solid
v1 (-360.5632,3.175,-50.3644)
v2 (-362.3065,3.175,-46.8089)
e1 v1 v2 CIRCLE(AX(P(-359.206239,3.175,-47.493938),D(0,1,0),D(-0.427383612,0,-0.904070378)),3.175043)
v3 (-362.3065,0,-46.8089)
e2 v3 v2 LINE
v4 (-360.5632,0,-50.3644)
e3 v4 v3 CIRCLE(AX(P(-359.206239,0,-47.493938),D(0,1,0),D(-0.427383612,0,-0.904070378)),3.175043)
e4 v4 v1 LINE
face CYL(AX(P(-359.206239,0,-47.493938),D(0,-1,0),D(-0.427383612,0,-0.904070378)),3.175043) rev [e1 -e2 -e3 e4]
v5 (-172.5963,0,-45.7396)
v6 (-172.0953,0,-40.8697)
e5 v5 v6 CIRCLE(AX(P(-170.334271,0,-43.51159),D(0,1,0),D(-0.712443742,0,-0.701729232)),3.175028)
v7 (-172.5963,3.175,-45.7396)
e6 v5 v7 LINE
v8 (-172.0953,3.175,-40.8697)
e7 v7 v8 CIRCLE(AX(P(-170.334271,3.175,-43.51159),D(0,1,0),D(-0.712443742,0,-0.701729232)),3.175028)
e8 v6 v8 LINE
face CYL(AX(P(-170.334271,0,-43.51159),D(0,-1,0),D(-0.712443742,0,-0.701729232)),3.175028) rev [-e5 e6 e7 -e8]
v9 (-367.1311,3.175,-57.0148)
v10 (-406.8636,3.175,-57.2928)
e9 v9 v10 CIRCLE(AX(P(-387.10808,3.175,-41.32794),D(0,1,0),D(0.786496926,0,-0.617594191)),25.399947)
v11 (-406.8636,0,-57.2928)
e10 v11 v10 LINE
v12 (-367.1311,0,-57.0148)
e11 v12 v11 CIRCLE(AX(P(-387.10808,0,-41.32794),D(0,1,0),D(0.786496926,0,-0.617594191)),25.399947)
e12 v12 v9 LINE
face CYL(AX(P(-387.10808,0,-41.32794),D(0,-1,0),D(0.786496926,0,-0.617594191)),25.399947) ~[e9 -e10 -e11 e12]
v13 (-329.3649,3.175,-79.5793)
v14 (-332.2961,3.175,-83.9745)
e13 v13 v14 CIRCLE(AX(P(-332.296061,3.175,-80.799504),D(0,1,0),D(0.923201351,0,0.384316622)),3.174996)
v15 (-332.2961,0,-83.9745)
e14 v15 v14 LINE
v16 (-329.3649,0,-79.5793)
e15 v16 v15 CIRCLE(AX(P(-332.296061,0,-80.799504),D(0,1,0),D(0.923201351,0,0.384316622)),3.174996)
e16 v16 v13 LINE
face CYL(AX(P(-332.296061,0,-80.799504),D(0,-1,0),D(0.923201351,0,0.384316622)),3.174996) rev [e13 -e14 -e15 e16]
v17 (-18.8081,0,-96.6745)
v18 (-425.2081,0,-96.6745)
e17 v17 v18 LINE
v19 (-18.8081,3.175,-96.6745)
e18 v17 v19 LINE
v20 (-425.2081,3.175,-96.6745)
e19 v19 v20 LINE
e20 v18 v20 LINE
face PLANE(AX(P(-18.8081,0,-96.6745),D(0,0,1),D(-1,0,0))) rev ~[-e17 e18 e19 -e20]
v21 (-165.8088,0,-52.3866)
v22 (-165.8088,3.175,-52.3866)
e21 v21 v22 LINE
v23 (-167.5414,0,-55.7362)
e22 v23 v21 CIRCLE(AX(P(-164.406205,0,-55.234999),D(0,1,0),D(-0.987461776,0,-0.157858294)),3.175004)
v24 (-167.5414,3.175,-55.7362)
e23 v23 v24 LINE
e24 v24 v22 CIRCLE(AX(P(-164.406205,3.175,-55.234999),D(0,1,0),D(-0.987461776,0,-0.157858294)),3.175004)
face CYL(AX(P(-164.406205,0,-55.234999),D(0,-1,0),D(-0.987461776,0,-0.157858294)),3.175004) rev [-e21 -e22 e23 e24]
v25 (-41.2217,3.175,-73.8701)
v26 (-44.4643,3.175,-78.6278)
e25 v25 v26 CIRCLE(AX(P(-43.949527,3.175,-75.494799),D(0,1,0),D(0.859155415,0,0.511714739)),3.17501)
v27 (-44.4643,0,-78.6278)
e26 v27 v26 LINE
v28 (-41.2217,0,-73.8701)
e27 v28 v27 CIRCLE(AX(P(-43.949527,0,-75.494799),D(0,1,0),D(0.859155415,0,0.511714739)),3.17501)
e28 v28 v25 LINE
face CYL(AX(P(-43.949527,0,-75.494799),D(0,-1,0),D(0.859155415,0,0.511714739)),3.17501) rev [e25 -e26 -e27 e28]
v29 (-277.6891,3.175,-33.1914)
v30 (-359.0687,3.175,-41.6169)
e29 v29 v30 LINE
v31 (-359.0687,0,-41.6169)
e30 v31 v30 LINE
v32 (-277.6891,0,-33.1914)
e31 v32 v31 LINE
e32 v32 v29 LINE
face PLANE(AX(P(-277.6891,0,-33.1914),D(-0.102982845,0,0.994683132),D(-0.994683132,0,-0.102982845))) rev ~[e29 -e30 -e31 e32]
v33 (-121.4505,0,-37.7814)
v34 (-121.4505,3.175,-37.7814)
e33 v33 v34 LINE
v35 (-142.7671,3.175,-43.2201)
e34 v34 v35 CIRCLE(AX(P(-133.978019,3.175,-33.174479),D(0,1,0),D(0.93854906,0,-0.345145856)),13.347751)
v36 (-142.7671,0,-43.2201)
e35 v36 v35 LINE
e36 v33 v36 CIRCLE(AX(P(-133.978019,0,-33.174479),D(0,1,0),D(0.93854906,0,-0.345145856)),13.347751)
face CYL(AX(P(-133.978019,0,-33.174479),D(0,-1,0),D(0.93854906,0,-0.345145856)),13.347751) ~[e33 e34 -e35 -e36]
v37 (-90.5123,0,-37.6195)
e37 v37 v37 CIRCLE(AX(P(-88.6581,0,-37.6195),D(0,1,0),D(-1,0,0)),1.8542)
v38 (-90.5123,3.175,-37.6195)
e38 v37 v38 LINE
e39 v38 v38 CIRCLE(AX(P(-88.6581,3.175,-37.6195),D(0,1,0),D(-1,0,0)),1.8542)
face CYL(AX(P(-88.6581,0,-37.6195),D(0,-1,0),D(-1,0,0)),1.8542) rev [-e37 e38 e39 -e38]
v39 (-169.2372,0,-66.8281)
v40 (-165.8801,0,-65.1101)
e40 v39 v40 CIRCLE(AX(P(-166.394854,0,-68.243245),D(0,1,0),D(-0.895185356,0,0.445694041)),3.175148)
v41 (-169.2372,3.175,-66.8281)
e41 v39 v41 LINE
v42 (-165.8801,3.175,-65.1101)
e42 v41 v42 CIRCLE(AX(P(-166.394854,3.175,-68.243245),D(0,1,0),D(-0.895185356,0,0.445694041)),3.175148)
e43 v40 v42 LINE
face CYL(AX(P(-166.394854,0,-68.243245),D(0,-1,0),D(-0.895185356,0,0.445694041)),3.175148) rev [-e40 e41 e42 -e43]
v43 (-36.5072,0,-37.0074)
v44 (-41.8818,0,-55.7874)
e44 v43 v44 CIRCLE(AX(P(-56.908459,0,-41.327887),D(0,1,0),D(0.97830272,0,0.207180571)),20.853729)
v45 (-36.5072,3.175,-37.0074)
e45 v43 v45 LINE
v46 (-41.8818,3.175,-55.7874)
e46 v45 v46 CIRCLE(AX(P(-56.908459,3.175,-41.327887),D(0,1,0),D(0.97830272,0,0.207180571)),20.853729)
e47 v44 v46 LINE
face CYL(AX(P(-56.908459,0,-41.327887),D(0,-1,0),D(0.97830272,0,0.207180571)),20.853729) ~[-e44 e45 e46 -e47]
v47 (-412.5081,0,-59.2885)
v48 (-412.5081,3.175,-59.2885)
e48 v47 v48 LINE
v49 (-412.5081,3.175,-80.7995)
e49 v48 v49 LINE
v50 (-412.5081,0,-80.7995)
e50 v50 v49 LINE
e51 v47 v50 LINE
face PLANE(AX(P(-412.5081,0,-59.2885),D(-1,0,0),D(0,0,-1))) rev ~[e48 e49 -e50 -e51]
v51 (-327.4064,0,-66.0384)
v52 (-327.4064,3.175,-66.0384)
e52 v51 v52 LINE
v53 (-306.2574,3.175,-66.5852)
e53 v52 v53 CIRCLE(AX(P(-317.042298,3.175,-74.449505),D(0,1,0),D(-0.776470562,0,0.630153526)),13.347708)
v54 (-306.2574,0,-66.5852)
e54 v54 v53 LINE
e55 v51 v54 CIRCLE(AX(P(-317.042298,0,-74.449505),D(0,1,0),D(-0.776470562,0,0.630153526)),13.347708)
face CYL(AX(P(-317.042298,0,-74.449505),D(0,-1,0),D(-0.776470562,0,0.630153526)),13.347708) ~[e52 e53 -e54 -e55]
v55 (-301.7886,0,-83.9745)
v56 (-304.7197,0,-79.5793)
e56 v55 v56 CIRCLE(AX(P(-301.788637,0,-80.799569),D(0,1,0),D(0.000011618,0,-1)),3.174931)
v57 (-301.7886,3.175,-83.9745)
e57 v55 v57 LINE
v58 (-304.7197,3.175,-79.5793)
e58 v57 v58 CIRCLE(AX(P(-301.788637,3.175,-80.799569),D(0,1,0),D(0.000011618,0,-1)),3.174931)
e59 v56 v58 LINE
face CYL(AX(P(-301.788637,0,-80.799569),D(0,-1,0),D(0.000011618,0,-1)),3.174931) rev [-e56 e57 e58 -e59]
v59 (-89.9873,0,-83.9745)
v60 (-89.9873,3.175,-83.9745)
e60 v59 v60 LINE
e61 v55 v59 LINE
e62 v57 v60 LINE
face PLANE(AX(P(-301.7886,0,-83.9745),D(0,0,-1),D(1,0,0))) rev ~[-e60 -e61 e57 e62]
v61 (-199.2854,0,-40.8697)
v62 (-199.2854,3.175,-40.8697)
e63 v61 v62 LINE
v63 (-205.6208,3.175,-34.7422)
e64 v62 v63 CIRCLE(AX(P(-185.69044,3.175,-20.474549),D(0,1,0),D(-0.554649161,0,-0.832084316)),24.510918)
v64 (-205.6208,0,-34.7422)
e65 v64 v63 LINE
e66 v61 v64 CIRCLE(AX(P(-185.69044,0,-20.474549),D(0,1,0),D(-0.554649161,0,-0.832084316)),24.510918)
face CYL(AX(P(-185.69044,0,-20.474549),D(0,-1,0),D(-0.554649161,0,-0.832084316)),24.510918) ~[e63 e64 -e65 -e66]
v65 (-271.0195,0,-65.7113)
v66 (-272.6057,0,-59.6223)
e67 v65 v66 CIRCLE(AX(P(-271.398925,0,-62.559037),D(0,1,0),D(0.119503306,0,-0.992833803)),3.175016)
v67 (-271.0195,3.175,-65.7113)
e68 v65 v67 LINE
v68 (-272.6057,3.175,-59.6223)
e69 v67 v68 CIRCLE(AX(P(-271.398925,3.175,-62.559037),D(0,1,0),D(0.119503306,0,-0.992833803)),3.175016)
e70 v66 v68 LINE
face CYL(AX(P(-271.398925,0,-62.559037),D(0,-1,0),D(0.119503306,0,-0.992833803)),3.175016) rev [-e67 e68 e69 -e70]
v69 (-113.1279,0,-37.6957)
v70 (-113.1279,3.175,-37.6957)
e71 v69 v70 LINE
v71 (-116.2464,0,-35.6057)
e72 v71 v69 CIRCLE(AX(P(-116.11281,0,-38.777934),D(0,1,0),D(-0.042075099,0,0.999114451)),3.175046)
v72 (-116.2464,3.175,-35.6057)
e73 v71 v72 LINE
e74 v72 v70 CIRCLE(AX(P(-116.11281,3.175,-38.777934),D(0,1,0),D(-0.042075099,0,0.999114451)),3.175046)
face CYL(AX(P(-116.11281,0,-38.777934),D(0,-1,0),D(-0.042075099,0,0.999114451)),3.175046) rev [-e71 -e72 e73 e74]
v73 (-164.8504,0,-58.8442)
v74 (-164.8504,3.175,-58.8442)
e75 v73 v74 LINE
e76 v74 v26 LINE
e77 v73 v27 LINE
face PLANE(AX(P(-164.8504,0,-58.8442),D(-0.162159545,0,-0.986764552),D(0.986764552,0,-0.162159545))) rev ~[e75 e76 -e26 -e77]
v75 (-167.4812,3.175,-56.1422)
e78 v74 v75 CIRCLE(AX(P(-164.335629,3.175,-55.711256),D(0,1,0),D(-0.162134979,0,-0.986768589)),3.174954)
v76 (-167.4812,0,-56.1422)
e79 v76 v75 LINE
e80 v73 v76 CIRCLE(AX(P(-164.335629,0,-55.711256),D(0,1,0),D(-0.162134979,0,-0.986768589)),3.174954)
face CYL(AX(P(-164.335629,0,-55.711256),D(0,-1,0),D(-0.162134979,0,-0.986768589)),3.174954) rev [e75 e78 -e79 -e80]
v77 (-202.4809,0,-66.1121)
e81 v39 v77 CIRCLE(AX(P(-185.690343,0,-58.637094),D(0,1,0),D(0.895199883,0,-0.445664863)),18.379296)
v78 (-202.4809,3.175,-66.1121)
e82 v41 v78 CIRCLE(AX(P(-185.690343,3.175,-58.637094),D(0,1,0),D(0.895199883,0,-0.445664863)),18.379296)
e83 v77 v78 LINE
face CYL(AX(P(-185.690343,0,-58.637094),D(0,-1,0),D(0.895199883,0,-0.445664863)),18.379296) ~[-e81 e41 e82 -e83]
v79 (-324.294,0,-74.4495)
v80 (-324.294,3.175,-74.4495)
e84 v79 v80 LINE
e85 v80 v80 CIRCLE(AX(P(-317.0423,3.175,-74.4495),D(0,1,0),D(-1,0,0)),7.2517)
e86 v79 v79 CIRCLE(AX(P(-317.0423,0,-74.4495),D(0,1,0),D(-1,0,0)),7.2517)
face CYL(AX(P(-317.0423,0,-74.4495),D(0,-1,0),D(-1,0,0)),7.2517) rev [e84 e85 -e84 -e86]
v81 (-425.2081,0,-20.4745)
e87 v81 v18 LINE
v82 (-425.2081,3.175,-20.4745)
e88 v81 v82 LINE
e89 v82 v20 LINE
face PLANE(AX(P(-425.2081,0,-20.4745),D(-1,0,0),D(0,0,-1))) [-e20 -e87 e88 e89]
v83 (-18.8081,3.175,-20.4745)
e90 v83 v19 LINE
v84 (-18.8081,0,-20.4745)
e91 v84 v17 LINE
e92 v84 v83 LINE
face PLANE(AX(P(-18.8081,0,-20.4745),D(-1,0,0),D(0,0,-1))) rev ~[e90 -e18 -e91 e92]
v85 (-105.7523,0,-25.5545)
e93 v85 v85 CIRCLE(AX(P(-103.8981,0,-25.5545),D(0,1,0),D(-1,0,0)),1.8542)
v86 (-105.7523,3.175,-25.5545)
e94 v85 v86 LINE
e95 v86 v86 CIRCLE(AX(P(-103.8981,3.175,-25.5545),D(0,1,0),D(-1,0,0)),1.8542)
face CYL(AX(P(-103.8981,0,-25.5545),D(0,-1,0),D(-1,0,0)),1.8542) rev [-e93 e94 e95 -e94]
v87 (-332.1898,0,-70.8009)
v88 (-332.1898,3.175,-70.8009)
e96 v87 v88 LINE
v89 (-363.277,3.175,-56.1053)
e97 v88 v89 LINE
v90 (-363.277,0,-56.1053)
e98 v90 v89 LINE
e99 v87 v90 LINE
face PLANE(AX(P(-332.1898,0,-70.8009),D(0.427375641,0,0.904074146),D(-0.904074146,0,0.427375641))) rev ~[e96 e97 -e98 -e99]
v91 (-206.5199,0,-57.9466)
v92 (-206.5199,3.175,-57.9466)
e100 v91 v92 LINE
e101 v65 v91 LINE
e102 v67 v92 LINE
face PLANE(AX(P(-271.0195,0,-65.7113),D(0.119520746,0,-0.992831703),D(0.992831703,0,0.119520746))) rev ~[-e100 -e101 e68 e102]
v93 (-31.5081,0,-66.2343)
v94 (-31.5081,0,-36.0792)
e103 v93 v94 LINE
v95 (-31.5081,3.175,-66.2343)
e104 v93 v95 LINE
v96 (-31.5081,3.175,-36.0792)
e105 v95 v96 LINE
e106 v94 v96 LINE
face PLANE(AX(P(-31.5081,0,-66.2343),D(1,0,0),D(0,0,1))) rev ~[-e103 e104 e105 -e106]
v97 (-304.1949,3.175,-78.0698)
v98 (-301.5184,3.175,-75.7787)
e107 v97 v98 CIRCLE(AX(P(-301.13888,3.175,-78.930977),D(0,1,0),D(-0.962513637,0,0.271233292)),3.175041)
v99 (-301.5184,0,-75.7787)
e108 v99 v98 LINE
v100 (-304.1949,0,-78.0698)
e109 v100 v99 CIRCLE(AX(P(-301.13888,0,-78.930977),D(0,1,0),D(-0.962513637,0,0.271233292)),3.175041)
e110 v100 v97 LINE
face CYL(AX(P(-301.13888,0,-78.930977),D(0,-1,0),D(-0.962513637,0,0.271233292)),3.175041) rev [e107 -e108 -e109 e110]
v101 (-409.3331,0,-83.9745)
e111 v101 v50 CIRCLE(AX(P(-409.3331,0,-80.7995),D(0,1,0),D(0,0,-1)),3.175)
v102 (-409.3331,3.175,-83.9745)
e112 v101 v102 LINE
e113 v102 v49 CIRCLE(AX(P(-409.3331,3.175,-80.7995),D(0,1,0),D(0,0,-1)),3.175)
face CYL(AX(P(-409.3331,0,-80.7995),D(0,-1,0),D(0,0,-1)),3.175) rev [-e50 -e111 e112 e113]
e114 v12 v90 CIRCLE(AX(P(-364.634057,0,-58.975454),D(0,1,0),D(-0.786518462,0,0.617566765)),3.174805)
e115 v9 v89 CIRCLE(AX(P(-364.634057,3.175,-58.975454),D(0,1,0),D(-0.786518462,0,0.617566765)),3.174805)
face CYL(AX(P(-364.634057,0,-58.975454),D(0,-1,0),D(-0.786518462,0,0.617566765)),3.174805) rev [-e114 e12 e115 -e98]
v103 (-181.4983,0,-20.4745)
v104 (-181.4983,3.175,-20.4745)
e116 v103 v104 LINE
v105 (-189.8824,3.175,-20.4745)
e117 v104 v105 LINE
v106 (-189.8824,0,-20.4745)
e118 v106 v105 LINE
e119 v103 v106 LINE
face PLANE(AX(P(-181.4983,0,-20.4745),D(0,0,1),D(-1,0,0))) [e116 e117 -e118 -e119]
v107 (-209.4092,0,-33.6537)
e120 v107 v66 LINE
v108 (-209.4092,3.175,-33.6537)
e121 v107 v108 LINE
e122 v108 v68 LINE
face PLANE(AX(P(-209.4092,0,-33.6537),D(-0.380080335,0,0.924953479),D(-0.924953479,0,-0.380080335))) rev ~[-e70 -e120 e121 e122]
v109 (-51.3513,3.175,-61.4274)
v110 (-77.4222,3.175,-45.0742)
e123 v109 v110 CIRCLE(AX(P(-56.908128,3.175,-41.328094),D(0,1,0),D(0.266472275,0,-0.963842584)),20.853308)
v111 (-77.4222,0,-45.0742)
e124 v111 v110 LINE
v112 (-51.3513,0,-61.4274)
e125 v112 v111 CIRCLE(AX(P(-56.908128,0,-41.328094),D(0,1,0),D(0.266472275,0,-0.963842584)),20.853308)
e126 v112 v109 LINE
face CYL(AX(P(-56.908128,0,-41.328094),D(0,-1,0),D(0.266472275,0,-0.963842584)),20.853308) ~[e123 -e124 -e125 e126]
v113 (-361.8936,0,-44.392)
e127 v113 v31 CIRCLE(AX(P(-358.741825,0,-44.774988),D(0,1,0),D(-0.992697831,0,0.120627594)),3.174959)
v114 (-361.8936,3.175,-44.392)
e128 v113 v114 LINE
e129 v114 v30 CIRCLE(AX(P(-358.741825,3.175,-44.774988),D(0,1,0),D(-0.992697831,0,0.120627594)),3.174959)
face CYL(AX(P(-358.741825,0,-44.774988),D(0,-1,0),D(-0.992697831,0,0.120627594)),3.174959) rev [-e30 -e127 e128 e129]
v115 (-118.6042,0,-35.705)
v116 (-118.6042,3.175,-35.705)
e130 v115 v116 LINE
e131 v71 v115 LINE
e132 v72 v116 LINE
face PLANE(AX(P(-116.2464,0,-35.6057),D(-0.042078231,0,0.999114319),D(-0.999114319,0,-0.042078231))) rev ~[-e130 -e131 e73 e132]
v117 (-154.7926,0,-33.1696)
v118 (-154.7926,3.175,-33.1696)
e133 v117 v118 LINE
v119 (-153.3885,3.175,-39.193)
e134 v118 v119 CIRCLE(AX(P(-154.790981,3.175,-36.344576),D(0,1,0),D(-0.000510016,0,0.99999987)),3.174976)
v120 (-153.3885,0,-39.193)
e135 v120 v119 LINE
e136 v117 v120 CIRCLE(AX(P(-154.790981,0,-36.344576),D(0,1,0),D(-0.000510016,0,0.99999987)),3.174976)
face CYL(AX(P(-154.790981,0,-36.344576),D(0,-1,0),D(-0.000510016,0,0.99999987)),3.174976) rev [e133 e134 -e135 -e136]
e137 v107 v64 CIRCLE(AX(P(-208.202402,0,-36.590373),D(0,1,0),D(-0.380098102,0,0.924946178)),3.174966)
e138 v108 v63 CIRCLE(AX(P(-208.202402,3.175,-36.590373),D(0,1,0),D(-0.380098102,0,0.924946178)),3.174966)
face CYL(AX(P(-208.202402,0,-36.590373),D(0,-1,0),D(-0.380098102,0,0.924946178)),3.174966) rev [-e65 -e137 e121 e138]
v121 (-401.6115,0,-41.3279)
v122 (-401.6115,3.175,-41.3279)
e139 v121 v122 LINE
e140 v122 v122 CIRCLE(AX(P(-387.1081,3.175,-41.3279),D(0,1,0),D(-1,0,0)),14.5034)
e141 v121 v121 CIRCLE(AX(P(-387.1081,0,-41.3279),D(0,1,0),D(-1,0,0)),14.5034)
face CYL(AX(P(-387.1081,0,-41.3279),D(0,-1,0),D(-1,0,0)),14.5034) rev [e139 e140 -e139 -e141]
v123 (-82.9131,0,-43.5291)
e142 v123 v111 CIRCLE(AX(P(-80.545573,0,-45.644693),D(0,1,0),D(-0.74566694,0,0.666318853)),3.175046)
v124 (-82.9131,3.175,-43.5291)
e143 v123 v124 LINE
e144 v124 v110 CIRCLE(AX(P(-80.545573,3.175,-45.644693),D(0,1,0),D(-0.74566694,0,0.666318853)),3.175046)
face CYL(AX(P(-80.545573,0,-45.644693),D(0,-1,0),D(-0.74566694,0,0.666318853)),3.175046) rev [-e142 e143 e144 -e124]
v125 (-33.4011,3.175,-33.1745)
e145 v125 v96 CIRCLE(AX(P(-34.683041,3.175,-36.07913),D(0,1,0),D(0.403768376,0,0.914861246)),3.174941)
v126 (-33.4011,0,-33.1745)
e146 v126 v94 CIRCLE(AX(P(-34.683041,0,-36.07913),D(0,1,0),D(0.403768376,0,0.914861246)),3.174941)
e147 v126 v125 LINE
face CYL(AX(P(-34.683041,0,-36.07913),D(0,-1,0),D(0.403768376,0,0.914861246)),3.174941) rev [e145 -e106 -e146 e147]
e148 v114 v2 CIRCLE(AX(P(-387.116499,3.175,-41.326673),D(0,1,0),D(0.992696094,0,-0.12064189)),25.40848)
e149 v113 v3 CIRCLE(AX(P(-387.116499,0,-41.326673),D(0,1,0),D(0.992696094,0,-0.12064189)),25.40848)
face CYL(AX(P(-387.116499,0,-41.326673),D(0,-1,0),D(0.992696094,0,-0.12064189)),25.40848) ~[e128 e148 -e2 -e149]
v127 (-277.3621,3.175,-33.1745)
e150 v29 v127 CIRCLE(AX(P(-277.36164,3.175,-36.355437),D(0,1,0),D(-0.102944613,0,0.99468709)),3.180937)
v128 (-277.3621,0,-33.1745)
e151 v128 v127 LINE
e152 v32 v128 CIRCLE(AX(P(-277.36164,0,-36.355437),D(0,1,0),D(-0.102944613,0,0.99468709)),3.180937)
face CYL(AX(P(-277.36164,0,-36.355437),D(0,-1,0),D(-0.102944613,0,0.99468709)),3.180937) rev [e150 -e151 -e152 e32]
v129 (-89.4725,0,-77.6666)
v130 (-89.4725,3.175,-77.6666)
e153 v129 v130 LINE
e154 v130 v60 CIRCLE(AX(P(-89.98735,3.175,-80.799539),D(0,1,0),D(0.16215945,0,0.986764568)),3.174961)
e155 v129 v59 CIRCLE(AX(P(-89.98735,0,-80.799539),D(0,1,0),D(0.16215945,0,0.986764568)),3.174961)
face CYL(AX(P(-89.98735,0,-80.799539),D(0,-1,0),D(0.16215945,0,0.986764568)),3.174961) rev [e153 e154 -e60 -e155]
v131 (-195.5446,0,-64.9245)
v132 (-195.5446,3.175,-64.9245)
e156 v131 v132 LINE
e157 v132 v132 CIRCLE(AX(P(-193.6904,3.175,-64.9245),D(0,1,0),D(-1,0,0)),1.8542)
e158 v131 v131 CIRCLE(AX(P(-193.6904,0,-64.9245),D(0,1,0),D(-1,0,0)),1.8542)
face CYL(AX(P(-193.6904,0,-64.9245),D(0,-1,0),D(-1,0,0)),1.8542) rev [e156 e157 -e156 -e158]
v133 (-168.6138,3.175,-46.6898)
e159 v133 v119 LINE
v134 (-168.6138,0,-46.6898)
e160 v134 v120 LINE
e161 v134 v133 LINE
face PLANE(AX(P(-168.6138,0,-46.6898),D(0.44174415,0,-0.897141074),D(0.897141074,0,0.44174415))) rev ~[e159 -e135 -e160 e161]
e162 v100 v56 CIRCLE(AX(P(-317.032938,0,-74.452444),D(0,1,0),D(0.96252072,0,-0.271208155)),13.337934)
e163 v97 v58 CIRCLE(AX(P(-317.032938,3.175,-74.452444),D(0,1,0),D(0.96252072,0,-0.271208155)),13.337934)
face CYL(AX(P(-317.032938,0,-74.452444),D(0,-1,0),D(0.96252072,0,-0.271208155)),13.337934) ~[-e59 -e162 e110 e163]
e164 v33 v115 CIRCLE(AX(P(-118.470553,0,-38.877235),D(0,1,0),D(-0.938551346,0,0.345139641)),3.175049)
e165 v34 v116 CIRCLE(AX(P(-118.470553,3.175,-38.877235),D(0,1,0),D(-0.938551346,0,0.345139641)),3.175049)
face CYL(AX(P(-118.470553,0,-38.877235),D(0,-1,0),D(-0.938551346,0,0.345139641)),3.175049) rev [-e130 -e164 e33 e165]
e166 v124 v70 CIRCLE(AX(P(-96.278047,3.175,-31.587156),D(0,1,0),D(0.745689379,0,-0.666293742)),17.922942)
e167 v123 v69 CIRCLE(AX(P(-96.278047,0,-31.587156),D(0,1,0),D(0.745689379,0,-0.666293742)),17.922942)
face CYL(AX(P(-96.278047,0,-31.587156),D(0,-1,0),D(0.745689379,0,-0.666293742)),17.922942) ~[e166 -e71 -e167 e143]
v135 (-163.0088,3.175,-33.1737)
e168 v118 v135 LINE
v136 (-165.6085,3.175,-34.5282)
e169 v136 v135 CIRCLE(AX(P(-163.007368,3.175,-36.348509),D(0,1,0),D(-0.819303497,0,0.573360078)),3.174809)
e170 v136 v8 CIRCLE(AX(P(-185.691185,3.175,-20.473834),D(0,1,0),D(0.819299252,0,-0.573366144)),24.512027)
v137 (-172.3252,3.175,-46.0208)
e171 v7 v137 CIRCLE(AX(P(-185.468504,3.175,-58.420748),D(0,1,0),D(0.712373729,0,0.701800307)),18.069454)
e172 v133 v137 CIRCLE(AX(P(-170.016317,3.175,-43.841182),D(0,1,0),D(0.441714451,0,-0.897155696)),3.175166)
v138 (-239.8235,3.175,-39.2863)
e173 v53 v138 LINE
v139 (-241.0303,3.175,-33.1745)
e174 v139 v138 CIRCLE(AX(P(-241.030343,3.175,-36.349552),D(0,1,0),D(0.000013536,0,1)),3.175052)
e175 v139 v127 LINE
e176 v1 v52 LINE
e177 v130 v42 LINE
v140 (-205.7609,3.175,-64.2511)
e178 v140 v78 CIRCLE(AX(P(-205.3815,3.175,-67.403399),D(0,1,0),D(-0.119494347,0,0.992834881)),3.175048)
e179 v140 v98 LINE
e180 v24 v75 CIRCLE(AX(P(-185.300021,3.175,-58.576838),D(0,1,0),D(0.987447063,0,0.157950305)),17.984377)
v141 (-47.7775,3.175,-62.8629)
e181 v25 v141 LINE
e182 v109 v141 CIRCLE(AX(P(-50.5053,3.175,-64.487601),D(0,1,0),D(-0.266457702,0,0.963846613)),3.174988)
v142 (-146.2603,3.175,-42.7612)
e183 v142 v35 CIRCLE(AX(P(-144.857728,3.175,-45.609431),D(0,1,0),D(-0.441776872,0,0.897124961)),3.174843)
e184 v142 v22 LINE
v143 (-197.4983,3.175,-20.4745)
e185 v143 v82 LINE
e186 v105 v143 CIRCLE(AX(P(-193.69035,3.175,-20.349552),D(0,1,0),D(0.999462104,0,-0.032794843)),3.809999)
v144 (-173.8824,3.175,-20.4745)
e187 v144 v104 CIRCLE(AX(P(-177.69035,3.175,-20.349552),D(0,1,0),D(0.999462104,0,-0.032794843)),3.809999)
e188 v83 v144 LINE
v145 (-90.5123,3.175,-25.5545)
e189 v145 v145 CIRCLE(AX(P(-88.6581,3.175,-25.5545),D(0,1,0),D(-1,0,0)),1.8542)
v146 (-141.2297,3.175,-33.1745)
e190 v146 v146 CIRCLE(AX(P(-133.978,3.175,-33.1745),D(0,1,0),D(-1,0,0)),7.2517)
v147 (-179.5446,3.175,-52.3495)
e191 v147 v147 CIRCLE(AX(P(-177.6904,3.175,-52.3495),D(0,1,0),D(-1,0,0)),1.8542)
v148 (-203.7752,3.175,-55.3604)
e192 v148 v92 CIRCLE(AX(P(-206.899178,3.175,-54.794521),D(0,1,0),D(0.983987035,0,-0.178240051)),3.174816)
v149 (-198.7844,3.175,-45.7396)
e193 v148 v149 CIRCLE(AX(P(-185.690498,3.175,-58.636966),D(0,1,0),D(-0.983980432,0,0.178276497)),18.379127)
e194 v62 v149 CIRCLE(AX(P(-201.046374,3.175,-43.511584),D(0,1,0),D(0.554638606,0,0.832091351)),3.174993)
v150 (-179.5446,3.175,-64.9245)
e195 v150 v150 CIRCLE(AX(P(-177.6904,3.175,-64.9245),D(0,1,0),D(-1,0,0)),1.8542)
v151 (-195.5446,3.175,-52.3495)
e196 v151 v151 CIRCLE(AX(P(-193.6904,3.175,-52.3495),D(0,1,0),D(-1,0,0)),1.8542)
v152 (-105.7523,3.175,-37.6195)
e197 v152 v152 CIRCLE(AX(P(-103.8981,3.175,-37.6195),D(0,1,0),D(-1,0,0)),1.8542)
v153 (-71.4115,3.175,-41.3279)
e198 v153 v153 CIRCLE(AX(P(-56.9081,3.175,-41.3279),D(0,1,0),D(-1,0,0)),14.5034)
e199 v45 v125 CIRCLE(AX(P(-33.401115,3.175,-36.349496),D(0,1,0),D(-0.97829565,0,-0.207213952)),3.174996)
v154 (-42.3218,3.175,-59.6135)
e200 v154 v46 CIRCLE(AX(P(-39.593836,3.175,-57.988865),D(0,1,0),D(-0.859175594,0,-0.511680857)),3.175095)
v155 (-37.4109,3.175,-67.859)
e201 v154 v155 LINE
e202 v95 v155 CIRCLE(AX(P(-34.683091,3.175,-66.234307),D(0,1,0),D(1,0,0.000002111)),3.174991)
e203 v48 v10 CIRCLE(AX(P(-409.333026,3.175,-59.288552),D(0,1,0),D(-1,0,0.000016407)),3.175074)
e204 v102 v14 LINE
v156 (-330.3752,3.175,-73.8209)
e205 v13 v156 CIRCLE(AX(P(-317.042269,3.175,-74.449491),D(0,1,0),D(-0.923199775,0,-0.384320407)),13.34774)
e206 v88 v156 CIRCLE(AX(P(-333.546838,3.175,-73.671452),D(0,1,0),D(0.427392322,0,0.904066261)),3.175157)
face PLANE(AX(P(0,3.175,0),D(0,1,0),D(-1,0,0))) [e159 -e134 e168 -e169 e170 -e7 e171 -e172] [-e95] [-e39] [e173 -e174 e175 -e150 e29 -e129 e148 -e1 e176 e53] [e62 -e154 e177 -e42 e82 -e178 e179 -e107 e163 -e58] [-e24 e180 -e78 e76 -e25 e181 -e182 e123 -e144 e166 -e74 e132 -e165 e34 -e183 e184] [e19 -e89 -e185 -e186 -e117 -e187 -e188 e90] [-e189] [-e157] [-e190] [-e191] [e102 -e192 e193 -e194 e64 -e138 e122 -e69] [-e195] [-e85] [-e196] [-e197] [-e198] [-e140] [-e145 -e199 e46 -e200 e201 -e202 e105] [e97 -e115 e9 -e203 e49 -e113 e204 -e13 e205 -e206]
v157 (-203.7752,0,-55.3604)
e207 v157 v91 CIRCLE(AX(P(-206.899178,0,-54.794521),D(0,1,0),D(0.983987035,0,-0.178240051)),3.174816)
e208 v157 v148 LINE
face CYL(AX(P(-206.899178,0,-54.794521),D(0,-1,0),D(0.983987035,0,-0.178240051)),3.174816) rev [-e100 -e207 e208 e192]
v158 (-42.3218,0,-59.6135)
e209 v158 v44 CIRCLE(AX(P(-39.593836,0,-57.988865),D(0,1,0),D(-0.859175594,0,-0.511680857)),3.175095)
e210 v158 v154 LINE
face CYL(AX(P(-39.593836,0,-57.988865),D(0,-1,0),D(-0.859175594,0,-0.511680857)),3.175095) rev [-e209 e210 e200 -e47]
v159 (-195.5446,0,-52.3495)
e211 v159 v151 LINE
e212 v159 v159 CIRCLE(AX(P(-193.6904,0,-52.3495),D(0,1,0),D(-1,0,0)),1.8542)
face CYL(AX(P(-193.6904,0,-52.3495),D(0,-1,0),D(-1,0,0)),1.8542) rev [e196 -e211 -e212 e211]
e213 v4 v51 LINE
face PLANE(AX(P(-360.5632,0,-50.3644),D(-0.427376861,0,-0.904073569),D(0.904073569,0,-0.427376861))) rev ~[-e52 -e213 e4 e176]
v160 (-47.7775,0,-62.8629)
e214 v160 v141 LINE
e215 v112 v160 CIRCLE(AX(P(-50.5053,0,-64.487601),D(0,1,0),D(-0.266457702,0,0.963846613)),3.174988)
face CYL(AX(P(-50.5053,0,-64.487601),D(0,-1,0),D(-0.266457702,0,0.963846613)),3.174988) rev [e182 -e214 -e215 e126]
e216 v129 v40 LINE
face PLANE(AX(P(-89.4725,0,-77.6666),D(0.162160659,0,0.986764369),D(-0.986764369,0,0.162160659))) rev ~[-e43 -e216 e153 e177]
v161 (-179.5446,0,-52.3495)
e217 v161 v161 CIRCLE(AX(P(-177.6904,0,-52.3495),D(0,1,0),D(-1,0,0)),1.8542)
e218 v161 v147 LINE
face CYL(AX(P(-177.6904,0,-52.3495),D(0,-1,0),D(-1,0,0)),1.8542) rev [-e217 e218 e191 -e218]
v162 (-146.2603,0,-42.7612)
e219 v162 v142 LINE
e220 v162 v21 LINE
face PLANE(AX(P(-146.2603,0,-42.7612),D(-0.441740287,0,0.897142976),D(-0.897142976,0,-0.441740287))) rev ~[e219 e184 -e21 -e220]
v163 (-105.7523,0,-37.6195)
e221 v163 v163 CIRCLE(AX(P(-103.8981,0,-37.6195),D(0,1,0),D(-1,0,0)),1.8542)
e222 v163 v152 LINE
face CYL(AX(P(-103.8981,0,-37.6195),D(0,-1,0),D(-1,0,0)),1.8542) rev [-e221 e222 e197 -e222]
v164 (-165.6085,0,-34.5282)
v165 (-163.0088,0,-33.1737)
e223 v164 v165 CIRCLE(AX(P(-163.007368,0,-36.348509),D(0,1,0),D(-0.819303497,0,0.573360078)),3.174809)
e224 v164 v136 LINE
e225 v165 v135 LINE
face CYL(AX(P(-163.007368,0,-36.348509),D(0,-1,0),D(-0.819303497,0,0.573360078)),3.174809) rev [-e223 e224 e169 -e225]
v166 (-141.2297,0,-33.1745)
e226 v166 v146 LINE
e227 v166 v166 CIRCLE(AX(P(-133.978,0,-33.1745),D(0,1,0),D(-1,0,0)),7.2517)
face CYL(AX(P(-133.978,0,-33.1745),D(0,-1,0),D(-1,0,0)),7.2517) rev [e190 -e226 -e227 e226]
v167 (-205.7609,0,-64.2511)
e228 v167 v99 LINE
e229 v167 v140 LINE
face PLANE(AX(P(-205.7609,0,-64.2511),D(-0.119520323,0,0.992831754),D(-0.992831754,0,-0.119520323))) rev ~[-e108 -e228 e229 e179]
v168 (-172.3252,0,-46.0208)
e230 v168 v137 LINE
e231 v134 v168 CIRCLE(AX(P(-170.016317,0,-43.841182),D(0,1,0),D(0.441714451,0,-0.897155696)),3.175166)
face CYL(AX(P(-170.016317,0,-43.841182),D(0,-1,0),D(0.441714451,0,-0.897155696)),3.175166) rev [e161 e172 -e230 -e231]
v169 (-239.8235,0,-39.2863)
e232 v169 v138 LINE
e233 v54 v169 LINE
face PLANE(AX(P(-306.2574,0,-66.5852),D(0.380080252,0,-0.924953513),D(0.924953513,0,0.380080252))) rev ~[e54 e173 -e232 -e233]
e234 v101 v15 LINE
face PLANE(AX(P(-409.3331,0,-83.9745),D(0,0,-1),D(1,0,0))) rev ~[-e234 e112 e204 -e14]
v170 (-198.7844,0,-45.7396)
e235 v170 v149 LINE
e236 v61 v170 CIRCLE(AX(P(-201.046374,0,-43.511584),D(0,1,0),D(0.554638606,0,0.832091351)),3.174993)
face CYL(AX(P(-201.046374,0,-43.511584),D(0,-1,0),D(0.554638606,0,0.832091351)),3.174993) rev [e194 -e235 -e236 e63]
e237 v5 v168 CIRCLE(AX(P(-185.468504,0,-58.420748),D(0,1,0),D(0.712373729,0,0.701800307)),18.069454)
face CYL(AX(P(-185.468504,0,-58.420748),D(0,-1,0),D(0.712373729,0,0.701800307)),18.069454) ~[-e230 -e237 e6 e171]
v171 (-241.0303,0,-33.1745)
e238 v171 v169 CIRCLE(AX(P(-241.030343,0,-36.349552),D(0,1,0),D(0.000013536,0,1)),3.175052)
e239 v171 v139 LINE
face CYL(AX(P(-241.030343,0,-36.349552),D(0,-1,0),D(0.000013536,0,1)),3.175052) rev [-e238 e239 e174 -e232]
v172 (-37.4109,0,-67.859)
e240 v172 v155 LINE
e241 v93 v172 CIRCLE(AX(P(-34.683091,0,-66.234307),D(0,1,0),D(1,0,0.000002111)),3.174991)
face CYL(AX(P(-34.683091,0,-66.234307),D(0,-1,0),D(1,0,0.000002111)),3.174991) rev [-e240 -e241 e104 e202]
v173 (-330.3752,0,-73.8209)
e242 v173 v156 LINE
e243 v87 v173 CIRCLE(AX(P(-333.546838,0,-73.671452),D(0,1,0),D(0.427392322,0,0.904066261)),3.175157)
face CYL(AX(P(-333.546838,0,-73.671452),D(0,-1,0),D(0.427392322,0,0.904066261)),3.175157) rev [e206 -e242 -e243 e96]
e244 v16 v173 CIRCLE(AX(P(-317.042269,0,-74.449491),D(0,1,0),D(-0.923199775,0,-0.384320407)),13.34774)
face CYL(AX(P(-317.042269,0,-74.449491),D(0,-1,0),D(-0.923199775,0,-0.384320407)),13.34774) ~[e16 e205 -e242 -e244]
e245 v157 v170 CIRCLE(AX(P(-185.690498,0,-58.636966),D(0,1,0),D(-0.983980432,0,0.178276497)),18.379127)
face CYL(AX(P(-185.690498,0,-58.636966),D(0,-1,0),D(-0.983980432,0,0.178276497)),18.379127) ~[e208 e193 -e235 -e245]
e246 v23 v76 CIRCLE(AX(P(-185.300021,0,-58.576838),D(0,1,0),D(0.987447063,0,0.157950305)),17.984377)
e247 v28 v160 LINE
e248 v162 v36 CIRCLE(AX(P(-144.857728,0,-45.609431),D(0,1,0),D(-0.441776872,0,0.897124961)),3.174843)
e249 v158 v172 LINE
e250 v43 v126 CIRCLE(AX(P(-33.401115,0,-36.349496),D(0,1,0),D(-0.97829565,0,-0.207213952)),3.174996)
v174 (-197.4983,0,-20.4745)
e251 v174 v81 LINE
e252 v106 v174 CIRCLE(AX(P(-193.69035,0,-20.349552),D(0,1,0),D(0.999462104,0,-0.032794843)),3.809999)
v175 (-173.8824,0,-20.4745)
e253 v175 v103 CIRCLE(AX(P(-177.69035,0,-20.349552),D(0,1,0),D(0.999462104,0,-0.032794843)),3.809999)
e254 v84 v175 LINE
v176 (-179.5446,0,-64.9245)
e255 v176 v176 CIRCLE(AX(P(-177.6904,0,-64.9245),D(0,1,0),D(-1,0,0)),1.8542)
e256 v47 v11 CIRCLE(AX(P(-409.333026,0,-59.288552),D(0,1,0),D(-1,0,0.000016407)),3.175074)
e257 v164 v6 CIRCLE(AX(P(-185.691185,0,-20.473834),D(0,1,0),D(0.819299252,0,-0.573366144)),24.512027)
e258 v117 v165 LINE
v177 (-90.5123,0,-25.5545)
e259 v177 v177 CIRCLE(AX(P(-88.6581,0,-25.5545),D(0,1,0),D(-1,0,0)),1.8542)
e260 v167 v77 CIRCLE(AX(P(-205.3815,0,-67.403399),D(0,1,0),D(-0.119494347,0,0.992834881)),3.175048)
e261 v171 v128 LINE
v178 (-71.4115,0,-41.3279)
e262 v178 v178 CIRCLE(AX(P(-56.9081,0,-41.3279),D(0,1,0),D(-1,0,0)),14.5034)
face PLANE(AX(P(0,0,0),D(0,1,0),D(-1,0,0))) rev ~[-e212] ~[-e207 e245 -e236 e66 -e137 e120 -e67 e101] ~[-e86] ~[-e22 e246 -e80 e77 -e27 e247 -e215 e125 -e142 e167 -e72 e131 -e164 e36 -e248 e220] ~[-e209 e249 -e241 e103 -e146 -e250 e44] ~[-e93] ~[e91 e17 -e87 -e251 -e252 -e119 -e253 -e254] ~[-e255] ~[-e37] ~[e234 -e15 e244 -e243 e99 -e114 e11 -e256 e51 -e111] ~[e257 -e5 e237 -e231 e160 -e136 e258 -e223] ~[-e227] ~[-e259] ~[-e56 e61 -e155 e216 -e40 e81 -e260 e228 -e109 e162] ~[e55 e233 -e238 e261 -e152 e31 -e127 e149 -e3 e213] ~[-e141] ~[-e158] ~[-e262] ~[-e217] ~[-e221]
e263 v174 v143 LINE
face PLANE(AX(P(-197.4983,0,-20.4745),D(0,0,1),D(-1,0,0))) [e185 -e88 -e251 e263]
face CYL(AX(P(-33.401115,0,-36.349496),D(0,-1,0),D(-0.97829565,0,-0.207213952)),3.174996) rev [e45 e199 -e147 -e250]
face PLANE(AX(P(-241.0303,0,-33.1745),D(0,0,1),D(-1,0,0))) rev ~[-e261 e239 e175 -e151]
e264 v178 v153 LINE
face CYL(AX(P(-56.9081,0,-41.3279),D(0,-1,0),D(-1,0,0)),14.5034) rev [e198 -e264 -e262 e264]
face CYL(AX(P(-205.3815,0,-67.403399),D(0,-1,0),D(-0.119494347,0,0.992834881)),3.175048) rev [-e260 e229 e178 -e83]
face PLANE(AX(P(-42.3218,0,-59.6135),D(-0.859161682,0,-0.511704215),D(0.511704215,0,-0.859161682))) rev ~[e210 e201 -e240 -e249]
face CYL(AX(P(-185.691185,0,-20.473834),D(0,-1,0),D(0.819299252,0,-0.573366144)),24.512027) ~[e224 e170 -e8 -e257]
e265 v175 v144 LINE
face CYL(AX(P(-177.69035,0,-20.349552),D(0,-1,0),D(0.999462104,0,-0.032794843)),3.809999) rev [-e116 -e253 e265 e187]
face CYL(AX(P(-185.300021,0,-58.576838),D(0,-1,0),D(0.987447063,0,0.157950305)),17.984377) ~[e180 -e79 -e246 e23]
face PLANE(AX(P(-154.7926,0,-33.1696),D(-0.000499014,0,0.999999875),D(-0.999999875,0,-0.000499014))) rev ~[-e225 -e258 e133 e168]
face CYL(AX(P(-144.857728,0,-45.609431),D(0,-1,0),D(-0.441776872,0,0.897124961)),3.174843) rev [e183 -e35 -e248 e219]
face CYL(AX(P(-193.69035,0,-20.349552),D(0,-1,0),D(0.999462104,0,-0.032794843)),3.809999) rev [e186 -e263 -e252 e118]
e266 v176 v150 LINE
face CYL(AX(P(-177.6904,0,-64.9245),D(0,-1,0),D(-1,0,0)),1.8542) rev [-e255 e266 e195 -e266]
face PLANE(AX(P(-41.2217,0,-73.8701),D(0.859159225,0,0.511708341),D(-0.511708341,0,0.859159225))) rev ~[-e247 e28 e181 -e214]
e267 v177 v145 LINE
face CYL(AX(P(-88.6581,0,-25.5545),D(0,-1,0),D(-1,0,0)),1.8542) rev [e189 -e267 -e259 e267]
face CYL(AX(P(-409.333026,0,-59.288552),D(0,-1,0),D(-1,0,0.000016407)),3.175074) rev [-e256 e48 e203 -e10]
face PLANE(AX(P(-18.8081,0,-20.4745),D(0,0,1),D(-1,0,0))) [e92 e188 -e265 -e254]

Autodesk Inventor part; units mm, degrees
ref_plane "YZ Plane" through (0, 0, 0) normal (1, 0, 0) x (0, 1, 0)
ref_plane "XZ Plane" through (0, 0, 0) normal (0, 1, 0) x (-1, 0, 0)
ref_plane "XY Plane" through (0, 0, 0) normal (0, 0, 1) x (1, 0, 0)
sketch "Sketch1" plane through (0, 0, 0) normal (0, 1, 0) x (-1, 0, 0)
  arc A0 (82.9131, -43.5291) -> (113.1279, -37.6957) centre (96.2781, -31.587) ccw
  arc A1 (116.2464, -35.6057) -> (113.1279, -37.6957) centre (116.1128, -38.7779) ccw
  line L0 (116.2464, -35.6057) -> (118.6042, -35.705)
  arc A2 (121.4505, -37.7814) -> (118.6042, -35.705) centre (118.4706, -38.8772) ccw
  arc A3 (121.4505, -37.7814) -> (142.7671, -43.2201) centre (133.978, -33.1745) ccw
  arc A4 (146.2603, -42.7612) -> (142.7671, -43.2201) centre (144.8577, -45.6096) ccw
  line L1 (146.2603, -42.7612) -> (165.8088, -52.3866)
  arc A5 (167.5414, -55.7362) -> (165.8088, -52.3866) centre (164.4062, -55.235) ccw
  arc A6 (167.5414, -55.7362) -> (167.4812, -56.1422) centre (185.6904, -58.637) ccw
  arc A7 (164.8504, -58.8442) -> (167.4812, -56.1422) centre (164.3356, -55.7112) ccw
  line L2 (164.8504, -58.8442) -> (44.4643, -78.6278)
  arc A8 (41.2217, -73.8701) -> (44.4643, -78.6278) centre (43.9495, -75.4948) ccw
  line L3 (41.2217, -73.8701) -> (47.7775, -62.8629)
  arc A9 (51.3513, -61.4274) -> (47.7775, -62.8629) centre (50.5053, -64.4876) ccw
  arc A10 (51.3513, -61.4274) -> (77.4222, -45.0742) centre (56.9081, -41.3279) ccw
  arc A11 (82.9131, -43.5291) -> (77.4222, -45.0742) centre (80.5456, -45.6446) ccw
  line L4 (301.7886, -83.9745) -> (89.9873, -83.9745)
  arc A12 (89.4725, -77.6666) -> (89.9873, -83.9745) centre (89.9873, -80.7995) ccw
  line L5 (89.4725, -77.6666) -> (165.8801, -65.1101)
  arc A13 (169.2372, -66.8281) -> (165.8801, -65.1101) centre (166.395, -68.2431) ccw
  arc A14 (169.2372, -66.8281) -> (202.4809, -66.1121) centre (185.6904, -58.637) ccw
  arc A15 (205.7609, -64.2511) -> (202.4809, -66.1121) centre (205.3815, -67.4034) ccw
  line L6 (205.7609, -64.2511) -> (301.5184, -75.7787)
  arc A16 (304.1949, -78.0698) -> (301.5184, -75.7787) centre (301.139, -78.9309) ccw
  arc A17 (304.1949, -78.0698) -> (304.7197, -79.5793) centre (317.0423, -74.4495) ccw
  arc A18 (301.7886, -83.9745) -> (304.7197, -79.5793) centre (301.7886, -80.7995) ccw
  arc A19 (36.5072, -37.0074) -> (41.8818, -55.7874) centre (56.9081, -41.3279) ccw
  arc A20 (42.3218, -59.6135) -> (41.8818, -55.7874) centre (39.594, -57.9889) ccw
  line L7 (42.3218, -59.6135) -> (37.4109, -67.859)
  arc A21 (31.5081, -66.2343) -> (37.4109, -67.859) centre (34.6831, -66.2343) ccw
  line L8 (31.5081, -66.2343) -> (31.5081, -36.0792)
  arc A22 (33.4011, -33.1745) -> (31.5081, -36.0792) centre (34.6831, -36.0792) ccw
  arc A23 (36.5072, -37.0074) -> (33.4011, -33.1745) centre (33.4011, -36.3495) ccw
  arc A24 (199.2854, -40.8697) -> (205.6208, -34.7422) centre (185.6904, -20.4745) ccw
  arc A25 (209.4092, -33.6537) -> (205.6208, -34.7422) centre (208.2024, -36.5904) ccw
  line L9 (209.4092, -33.6537) -> (272.6057, -59.6223)
  arc A26 (271.0195, -65.7113) -> (272.6057, -59.6223) centre (271.3989, -62.559) ccw
  line L10 (271.0195, -65.7113) -> (206.5199, -57.9466)
  arc A27 (203.7752, -55.3604) -> (206.5199, -57.9466) centre (206.8994, -54.7944) ccw
  arc A28 (203.7752, -55.3604) -> (198.7844, -45.7396) centre (185.6904, -58.637) ccw
  arc A29 (199.2854, -40.8697) -> (198.7844, -45.7396) centre (201.0464, -43.5116) ccw
  line L11 (306.2574, -66.5852) -> (239.8235, -39.2863)
  arc A30 (241.0303, -33.1745) -> (239.8235, -39.2863) centre (241.0303, -36.3495) ccw
  line L12 (241.0303, -33.1745) -> (277.3621, -33.1745)
  arc A31 (277.6891, -33.1914) -> (277.3621, -33.1745) centre (277.3621, -36.3495) ccw
  line L13 (277.6891, -33.1914) -> (359.0687, -41.6169)
  arc A32 (361.8936, -44.392) -> (359.0687, -41.6169) centre (358.7418, -44.775) ccw
  arc A33 (361.8936, -44.392) -> (362.3065, -46.8089) centre (387.1081, -41.3279) ccw
  arc A34 (360.5632, -50.3644) -> (362.3065, -46.8089) centre (359.2063, -47.494) ccw
  line L14 (360.5632, -50.3644) -> (327.4064, -66.0384)
  arc A35 (327.4064, -66.0384) -> (306.2574, -66.5852) centre (317.0423, -74.4495) ccw
  arc A36 (154.7926, -33.1696) -> (153.3885, -39.193) centre (154.791, -36.3446) ccw
  line L15 (154.7926, -33.1696) -> (163.0088, -33.1737)
  arc A37 (165.6085, -34.5282) -> (163.0088, -33.1737) centre (163.0072, -36.3487) ccw
  arc A38 (165.6085, -34.5282) -> (172.0953, -40.8697) centre (185.6904, -20.4745) ccw
  arc A39 (172.5963, -45.7396) -> (172.0953, -40.8697) centre (170.3343, -43.5116) ccw
  arc A40 (172.5963, -45.7396) -> (172.3252, -46.0208) centre (185.6904, -58.637) ccw
  arc A41 (168.6138, -46.6898) -> (172.3252, -46.0208) centre (170.0163, -43.8413) ccw
  line L16 (168.6138, -46.6898) -> (153.3885, -39.193)
  arc A42 (329.3649, -79.5793) -> (330.3752, -73.8209) centre (317.0423, -74.4495) ccw
  arc A43 (332.1898, -70.8009) -> (330.3752, -73.8209) centre (333.5467, -73.6713) ccw
  line L17 (332.1898, -70.8009) -> (363.277, -56.1053)
  arc A44 (367.1311, -57.0148) -> (363.277, -56.1053) centre (364.6339, -58.9757) ccw
  arc A45 (367.1311, -57.0148) -> (406.8636, -57.2928) centre (387.1081, -41.3279) ccw
  arc A46 (412.5081, -59.2885) -> (406.8636, -57.2928) centre (409.3331, -59.2885) ccw
  line L18 (412.5081, -59.2885) -> (412.5081, -80.7995)
  arc A47 (409.3331, -83.9745) -> (412.5081, -80.7995) centre (409.3331, -80.7995) ccw
  line L19 (409.3331, -83.9745) -> (332.2961, -83.9745)
  arc A48 (329.3649, -79.5793) -> (332.2961, -83.9745) centre (332.2961, -80.7995) ccw
  arc A49 (173.8824, -20.4745) -> (181.4983, -20.4745) centre (177.6904, -20.3495) ccw
  line L20 (18.8081, -20.4745) -> (173.8824, -20.4745)
  line L21 (18.8081, -20.4745) -> (18.8081, -96.6745)
  line L22 (18.8081, -96.6745) -> (425.2081, -96.6745)
  line L23 (425.2081, -20.4745) -> (425.2081, -96.6745)
  line L24 (197.4983, -20.4745) -> (425.2081, -20.4745)
  arc A50 (189.8824, -20.4745) -> (197.4983, -20.4745) centre (193.6904, -20.3495) ccw
  line L25 (181.4983, -20.4745) -> (189.8824, -20.4745)
  circle A51 centre (88.6581, -25.5545) radius 1.8542
  circle A52 centre (193.6904, -52.3495) radius 1.8542
  circle A53 centre (193.6904, -64.9245) radius 1.8542
  circle A54 centre (103.8981, -25.5545) radius 1.8542
  circle A55 centre (88.6581, -37.6195) radius 1.8542
  circle A56 centre (177.6904, -52.3495) radius 1.8542
  circle A57 centre (177.6904, -64.9245) radius 1.8542
  circle A58 centre (103.8981, -37.6195) radius 1.8542
  circle A59 centre (317.0423, -74.4495) radius 7.2517
  circle A60 centre (133.978, -33.1745) radius 7.2517
  circle A61 centre (56.9081, -41.3279) radius 14.5034
  circle A62 centre (387.1081, -41.3279) radius 14.5034
  point P0 (0, 0)
  point P1 (18.8081, -50.9113)
  dimension "d2" = 14.5034
  dimension "d3" = 29.0068
  dimension "d4" = 14.5034
extrude "Extrusion1" add sketch "Sketch1" along normal blind 3.175
equation "\"d4\" = d2"
properties part number "Right left side"
